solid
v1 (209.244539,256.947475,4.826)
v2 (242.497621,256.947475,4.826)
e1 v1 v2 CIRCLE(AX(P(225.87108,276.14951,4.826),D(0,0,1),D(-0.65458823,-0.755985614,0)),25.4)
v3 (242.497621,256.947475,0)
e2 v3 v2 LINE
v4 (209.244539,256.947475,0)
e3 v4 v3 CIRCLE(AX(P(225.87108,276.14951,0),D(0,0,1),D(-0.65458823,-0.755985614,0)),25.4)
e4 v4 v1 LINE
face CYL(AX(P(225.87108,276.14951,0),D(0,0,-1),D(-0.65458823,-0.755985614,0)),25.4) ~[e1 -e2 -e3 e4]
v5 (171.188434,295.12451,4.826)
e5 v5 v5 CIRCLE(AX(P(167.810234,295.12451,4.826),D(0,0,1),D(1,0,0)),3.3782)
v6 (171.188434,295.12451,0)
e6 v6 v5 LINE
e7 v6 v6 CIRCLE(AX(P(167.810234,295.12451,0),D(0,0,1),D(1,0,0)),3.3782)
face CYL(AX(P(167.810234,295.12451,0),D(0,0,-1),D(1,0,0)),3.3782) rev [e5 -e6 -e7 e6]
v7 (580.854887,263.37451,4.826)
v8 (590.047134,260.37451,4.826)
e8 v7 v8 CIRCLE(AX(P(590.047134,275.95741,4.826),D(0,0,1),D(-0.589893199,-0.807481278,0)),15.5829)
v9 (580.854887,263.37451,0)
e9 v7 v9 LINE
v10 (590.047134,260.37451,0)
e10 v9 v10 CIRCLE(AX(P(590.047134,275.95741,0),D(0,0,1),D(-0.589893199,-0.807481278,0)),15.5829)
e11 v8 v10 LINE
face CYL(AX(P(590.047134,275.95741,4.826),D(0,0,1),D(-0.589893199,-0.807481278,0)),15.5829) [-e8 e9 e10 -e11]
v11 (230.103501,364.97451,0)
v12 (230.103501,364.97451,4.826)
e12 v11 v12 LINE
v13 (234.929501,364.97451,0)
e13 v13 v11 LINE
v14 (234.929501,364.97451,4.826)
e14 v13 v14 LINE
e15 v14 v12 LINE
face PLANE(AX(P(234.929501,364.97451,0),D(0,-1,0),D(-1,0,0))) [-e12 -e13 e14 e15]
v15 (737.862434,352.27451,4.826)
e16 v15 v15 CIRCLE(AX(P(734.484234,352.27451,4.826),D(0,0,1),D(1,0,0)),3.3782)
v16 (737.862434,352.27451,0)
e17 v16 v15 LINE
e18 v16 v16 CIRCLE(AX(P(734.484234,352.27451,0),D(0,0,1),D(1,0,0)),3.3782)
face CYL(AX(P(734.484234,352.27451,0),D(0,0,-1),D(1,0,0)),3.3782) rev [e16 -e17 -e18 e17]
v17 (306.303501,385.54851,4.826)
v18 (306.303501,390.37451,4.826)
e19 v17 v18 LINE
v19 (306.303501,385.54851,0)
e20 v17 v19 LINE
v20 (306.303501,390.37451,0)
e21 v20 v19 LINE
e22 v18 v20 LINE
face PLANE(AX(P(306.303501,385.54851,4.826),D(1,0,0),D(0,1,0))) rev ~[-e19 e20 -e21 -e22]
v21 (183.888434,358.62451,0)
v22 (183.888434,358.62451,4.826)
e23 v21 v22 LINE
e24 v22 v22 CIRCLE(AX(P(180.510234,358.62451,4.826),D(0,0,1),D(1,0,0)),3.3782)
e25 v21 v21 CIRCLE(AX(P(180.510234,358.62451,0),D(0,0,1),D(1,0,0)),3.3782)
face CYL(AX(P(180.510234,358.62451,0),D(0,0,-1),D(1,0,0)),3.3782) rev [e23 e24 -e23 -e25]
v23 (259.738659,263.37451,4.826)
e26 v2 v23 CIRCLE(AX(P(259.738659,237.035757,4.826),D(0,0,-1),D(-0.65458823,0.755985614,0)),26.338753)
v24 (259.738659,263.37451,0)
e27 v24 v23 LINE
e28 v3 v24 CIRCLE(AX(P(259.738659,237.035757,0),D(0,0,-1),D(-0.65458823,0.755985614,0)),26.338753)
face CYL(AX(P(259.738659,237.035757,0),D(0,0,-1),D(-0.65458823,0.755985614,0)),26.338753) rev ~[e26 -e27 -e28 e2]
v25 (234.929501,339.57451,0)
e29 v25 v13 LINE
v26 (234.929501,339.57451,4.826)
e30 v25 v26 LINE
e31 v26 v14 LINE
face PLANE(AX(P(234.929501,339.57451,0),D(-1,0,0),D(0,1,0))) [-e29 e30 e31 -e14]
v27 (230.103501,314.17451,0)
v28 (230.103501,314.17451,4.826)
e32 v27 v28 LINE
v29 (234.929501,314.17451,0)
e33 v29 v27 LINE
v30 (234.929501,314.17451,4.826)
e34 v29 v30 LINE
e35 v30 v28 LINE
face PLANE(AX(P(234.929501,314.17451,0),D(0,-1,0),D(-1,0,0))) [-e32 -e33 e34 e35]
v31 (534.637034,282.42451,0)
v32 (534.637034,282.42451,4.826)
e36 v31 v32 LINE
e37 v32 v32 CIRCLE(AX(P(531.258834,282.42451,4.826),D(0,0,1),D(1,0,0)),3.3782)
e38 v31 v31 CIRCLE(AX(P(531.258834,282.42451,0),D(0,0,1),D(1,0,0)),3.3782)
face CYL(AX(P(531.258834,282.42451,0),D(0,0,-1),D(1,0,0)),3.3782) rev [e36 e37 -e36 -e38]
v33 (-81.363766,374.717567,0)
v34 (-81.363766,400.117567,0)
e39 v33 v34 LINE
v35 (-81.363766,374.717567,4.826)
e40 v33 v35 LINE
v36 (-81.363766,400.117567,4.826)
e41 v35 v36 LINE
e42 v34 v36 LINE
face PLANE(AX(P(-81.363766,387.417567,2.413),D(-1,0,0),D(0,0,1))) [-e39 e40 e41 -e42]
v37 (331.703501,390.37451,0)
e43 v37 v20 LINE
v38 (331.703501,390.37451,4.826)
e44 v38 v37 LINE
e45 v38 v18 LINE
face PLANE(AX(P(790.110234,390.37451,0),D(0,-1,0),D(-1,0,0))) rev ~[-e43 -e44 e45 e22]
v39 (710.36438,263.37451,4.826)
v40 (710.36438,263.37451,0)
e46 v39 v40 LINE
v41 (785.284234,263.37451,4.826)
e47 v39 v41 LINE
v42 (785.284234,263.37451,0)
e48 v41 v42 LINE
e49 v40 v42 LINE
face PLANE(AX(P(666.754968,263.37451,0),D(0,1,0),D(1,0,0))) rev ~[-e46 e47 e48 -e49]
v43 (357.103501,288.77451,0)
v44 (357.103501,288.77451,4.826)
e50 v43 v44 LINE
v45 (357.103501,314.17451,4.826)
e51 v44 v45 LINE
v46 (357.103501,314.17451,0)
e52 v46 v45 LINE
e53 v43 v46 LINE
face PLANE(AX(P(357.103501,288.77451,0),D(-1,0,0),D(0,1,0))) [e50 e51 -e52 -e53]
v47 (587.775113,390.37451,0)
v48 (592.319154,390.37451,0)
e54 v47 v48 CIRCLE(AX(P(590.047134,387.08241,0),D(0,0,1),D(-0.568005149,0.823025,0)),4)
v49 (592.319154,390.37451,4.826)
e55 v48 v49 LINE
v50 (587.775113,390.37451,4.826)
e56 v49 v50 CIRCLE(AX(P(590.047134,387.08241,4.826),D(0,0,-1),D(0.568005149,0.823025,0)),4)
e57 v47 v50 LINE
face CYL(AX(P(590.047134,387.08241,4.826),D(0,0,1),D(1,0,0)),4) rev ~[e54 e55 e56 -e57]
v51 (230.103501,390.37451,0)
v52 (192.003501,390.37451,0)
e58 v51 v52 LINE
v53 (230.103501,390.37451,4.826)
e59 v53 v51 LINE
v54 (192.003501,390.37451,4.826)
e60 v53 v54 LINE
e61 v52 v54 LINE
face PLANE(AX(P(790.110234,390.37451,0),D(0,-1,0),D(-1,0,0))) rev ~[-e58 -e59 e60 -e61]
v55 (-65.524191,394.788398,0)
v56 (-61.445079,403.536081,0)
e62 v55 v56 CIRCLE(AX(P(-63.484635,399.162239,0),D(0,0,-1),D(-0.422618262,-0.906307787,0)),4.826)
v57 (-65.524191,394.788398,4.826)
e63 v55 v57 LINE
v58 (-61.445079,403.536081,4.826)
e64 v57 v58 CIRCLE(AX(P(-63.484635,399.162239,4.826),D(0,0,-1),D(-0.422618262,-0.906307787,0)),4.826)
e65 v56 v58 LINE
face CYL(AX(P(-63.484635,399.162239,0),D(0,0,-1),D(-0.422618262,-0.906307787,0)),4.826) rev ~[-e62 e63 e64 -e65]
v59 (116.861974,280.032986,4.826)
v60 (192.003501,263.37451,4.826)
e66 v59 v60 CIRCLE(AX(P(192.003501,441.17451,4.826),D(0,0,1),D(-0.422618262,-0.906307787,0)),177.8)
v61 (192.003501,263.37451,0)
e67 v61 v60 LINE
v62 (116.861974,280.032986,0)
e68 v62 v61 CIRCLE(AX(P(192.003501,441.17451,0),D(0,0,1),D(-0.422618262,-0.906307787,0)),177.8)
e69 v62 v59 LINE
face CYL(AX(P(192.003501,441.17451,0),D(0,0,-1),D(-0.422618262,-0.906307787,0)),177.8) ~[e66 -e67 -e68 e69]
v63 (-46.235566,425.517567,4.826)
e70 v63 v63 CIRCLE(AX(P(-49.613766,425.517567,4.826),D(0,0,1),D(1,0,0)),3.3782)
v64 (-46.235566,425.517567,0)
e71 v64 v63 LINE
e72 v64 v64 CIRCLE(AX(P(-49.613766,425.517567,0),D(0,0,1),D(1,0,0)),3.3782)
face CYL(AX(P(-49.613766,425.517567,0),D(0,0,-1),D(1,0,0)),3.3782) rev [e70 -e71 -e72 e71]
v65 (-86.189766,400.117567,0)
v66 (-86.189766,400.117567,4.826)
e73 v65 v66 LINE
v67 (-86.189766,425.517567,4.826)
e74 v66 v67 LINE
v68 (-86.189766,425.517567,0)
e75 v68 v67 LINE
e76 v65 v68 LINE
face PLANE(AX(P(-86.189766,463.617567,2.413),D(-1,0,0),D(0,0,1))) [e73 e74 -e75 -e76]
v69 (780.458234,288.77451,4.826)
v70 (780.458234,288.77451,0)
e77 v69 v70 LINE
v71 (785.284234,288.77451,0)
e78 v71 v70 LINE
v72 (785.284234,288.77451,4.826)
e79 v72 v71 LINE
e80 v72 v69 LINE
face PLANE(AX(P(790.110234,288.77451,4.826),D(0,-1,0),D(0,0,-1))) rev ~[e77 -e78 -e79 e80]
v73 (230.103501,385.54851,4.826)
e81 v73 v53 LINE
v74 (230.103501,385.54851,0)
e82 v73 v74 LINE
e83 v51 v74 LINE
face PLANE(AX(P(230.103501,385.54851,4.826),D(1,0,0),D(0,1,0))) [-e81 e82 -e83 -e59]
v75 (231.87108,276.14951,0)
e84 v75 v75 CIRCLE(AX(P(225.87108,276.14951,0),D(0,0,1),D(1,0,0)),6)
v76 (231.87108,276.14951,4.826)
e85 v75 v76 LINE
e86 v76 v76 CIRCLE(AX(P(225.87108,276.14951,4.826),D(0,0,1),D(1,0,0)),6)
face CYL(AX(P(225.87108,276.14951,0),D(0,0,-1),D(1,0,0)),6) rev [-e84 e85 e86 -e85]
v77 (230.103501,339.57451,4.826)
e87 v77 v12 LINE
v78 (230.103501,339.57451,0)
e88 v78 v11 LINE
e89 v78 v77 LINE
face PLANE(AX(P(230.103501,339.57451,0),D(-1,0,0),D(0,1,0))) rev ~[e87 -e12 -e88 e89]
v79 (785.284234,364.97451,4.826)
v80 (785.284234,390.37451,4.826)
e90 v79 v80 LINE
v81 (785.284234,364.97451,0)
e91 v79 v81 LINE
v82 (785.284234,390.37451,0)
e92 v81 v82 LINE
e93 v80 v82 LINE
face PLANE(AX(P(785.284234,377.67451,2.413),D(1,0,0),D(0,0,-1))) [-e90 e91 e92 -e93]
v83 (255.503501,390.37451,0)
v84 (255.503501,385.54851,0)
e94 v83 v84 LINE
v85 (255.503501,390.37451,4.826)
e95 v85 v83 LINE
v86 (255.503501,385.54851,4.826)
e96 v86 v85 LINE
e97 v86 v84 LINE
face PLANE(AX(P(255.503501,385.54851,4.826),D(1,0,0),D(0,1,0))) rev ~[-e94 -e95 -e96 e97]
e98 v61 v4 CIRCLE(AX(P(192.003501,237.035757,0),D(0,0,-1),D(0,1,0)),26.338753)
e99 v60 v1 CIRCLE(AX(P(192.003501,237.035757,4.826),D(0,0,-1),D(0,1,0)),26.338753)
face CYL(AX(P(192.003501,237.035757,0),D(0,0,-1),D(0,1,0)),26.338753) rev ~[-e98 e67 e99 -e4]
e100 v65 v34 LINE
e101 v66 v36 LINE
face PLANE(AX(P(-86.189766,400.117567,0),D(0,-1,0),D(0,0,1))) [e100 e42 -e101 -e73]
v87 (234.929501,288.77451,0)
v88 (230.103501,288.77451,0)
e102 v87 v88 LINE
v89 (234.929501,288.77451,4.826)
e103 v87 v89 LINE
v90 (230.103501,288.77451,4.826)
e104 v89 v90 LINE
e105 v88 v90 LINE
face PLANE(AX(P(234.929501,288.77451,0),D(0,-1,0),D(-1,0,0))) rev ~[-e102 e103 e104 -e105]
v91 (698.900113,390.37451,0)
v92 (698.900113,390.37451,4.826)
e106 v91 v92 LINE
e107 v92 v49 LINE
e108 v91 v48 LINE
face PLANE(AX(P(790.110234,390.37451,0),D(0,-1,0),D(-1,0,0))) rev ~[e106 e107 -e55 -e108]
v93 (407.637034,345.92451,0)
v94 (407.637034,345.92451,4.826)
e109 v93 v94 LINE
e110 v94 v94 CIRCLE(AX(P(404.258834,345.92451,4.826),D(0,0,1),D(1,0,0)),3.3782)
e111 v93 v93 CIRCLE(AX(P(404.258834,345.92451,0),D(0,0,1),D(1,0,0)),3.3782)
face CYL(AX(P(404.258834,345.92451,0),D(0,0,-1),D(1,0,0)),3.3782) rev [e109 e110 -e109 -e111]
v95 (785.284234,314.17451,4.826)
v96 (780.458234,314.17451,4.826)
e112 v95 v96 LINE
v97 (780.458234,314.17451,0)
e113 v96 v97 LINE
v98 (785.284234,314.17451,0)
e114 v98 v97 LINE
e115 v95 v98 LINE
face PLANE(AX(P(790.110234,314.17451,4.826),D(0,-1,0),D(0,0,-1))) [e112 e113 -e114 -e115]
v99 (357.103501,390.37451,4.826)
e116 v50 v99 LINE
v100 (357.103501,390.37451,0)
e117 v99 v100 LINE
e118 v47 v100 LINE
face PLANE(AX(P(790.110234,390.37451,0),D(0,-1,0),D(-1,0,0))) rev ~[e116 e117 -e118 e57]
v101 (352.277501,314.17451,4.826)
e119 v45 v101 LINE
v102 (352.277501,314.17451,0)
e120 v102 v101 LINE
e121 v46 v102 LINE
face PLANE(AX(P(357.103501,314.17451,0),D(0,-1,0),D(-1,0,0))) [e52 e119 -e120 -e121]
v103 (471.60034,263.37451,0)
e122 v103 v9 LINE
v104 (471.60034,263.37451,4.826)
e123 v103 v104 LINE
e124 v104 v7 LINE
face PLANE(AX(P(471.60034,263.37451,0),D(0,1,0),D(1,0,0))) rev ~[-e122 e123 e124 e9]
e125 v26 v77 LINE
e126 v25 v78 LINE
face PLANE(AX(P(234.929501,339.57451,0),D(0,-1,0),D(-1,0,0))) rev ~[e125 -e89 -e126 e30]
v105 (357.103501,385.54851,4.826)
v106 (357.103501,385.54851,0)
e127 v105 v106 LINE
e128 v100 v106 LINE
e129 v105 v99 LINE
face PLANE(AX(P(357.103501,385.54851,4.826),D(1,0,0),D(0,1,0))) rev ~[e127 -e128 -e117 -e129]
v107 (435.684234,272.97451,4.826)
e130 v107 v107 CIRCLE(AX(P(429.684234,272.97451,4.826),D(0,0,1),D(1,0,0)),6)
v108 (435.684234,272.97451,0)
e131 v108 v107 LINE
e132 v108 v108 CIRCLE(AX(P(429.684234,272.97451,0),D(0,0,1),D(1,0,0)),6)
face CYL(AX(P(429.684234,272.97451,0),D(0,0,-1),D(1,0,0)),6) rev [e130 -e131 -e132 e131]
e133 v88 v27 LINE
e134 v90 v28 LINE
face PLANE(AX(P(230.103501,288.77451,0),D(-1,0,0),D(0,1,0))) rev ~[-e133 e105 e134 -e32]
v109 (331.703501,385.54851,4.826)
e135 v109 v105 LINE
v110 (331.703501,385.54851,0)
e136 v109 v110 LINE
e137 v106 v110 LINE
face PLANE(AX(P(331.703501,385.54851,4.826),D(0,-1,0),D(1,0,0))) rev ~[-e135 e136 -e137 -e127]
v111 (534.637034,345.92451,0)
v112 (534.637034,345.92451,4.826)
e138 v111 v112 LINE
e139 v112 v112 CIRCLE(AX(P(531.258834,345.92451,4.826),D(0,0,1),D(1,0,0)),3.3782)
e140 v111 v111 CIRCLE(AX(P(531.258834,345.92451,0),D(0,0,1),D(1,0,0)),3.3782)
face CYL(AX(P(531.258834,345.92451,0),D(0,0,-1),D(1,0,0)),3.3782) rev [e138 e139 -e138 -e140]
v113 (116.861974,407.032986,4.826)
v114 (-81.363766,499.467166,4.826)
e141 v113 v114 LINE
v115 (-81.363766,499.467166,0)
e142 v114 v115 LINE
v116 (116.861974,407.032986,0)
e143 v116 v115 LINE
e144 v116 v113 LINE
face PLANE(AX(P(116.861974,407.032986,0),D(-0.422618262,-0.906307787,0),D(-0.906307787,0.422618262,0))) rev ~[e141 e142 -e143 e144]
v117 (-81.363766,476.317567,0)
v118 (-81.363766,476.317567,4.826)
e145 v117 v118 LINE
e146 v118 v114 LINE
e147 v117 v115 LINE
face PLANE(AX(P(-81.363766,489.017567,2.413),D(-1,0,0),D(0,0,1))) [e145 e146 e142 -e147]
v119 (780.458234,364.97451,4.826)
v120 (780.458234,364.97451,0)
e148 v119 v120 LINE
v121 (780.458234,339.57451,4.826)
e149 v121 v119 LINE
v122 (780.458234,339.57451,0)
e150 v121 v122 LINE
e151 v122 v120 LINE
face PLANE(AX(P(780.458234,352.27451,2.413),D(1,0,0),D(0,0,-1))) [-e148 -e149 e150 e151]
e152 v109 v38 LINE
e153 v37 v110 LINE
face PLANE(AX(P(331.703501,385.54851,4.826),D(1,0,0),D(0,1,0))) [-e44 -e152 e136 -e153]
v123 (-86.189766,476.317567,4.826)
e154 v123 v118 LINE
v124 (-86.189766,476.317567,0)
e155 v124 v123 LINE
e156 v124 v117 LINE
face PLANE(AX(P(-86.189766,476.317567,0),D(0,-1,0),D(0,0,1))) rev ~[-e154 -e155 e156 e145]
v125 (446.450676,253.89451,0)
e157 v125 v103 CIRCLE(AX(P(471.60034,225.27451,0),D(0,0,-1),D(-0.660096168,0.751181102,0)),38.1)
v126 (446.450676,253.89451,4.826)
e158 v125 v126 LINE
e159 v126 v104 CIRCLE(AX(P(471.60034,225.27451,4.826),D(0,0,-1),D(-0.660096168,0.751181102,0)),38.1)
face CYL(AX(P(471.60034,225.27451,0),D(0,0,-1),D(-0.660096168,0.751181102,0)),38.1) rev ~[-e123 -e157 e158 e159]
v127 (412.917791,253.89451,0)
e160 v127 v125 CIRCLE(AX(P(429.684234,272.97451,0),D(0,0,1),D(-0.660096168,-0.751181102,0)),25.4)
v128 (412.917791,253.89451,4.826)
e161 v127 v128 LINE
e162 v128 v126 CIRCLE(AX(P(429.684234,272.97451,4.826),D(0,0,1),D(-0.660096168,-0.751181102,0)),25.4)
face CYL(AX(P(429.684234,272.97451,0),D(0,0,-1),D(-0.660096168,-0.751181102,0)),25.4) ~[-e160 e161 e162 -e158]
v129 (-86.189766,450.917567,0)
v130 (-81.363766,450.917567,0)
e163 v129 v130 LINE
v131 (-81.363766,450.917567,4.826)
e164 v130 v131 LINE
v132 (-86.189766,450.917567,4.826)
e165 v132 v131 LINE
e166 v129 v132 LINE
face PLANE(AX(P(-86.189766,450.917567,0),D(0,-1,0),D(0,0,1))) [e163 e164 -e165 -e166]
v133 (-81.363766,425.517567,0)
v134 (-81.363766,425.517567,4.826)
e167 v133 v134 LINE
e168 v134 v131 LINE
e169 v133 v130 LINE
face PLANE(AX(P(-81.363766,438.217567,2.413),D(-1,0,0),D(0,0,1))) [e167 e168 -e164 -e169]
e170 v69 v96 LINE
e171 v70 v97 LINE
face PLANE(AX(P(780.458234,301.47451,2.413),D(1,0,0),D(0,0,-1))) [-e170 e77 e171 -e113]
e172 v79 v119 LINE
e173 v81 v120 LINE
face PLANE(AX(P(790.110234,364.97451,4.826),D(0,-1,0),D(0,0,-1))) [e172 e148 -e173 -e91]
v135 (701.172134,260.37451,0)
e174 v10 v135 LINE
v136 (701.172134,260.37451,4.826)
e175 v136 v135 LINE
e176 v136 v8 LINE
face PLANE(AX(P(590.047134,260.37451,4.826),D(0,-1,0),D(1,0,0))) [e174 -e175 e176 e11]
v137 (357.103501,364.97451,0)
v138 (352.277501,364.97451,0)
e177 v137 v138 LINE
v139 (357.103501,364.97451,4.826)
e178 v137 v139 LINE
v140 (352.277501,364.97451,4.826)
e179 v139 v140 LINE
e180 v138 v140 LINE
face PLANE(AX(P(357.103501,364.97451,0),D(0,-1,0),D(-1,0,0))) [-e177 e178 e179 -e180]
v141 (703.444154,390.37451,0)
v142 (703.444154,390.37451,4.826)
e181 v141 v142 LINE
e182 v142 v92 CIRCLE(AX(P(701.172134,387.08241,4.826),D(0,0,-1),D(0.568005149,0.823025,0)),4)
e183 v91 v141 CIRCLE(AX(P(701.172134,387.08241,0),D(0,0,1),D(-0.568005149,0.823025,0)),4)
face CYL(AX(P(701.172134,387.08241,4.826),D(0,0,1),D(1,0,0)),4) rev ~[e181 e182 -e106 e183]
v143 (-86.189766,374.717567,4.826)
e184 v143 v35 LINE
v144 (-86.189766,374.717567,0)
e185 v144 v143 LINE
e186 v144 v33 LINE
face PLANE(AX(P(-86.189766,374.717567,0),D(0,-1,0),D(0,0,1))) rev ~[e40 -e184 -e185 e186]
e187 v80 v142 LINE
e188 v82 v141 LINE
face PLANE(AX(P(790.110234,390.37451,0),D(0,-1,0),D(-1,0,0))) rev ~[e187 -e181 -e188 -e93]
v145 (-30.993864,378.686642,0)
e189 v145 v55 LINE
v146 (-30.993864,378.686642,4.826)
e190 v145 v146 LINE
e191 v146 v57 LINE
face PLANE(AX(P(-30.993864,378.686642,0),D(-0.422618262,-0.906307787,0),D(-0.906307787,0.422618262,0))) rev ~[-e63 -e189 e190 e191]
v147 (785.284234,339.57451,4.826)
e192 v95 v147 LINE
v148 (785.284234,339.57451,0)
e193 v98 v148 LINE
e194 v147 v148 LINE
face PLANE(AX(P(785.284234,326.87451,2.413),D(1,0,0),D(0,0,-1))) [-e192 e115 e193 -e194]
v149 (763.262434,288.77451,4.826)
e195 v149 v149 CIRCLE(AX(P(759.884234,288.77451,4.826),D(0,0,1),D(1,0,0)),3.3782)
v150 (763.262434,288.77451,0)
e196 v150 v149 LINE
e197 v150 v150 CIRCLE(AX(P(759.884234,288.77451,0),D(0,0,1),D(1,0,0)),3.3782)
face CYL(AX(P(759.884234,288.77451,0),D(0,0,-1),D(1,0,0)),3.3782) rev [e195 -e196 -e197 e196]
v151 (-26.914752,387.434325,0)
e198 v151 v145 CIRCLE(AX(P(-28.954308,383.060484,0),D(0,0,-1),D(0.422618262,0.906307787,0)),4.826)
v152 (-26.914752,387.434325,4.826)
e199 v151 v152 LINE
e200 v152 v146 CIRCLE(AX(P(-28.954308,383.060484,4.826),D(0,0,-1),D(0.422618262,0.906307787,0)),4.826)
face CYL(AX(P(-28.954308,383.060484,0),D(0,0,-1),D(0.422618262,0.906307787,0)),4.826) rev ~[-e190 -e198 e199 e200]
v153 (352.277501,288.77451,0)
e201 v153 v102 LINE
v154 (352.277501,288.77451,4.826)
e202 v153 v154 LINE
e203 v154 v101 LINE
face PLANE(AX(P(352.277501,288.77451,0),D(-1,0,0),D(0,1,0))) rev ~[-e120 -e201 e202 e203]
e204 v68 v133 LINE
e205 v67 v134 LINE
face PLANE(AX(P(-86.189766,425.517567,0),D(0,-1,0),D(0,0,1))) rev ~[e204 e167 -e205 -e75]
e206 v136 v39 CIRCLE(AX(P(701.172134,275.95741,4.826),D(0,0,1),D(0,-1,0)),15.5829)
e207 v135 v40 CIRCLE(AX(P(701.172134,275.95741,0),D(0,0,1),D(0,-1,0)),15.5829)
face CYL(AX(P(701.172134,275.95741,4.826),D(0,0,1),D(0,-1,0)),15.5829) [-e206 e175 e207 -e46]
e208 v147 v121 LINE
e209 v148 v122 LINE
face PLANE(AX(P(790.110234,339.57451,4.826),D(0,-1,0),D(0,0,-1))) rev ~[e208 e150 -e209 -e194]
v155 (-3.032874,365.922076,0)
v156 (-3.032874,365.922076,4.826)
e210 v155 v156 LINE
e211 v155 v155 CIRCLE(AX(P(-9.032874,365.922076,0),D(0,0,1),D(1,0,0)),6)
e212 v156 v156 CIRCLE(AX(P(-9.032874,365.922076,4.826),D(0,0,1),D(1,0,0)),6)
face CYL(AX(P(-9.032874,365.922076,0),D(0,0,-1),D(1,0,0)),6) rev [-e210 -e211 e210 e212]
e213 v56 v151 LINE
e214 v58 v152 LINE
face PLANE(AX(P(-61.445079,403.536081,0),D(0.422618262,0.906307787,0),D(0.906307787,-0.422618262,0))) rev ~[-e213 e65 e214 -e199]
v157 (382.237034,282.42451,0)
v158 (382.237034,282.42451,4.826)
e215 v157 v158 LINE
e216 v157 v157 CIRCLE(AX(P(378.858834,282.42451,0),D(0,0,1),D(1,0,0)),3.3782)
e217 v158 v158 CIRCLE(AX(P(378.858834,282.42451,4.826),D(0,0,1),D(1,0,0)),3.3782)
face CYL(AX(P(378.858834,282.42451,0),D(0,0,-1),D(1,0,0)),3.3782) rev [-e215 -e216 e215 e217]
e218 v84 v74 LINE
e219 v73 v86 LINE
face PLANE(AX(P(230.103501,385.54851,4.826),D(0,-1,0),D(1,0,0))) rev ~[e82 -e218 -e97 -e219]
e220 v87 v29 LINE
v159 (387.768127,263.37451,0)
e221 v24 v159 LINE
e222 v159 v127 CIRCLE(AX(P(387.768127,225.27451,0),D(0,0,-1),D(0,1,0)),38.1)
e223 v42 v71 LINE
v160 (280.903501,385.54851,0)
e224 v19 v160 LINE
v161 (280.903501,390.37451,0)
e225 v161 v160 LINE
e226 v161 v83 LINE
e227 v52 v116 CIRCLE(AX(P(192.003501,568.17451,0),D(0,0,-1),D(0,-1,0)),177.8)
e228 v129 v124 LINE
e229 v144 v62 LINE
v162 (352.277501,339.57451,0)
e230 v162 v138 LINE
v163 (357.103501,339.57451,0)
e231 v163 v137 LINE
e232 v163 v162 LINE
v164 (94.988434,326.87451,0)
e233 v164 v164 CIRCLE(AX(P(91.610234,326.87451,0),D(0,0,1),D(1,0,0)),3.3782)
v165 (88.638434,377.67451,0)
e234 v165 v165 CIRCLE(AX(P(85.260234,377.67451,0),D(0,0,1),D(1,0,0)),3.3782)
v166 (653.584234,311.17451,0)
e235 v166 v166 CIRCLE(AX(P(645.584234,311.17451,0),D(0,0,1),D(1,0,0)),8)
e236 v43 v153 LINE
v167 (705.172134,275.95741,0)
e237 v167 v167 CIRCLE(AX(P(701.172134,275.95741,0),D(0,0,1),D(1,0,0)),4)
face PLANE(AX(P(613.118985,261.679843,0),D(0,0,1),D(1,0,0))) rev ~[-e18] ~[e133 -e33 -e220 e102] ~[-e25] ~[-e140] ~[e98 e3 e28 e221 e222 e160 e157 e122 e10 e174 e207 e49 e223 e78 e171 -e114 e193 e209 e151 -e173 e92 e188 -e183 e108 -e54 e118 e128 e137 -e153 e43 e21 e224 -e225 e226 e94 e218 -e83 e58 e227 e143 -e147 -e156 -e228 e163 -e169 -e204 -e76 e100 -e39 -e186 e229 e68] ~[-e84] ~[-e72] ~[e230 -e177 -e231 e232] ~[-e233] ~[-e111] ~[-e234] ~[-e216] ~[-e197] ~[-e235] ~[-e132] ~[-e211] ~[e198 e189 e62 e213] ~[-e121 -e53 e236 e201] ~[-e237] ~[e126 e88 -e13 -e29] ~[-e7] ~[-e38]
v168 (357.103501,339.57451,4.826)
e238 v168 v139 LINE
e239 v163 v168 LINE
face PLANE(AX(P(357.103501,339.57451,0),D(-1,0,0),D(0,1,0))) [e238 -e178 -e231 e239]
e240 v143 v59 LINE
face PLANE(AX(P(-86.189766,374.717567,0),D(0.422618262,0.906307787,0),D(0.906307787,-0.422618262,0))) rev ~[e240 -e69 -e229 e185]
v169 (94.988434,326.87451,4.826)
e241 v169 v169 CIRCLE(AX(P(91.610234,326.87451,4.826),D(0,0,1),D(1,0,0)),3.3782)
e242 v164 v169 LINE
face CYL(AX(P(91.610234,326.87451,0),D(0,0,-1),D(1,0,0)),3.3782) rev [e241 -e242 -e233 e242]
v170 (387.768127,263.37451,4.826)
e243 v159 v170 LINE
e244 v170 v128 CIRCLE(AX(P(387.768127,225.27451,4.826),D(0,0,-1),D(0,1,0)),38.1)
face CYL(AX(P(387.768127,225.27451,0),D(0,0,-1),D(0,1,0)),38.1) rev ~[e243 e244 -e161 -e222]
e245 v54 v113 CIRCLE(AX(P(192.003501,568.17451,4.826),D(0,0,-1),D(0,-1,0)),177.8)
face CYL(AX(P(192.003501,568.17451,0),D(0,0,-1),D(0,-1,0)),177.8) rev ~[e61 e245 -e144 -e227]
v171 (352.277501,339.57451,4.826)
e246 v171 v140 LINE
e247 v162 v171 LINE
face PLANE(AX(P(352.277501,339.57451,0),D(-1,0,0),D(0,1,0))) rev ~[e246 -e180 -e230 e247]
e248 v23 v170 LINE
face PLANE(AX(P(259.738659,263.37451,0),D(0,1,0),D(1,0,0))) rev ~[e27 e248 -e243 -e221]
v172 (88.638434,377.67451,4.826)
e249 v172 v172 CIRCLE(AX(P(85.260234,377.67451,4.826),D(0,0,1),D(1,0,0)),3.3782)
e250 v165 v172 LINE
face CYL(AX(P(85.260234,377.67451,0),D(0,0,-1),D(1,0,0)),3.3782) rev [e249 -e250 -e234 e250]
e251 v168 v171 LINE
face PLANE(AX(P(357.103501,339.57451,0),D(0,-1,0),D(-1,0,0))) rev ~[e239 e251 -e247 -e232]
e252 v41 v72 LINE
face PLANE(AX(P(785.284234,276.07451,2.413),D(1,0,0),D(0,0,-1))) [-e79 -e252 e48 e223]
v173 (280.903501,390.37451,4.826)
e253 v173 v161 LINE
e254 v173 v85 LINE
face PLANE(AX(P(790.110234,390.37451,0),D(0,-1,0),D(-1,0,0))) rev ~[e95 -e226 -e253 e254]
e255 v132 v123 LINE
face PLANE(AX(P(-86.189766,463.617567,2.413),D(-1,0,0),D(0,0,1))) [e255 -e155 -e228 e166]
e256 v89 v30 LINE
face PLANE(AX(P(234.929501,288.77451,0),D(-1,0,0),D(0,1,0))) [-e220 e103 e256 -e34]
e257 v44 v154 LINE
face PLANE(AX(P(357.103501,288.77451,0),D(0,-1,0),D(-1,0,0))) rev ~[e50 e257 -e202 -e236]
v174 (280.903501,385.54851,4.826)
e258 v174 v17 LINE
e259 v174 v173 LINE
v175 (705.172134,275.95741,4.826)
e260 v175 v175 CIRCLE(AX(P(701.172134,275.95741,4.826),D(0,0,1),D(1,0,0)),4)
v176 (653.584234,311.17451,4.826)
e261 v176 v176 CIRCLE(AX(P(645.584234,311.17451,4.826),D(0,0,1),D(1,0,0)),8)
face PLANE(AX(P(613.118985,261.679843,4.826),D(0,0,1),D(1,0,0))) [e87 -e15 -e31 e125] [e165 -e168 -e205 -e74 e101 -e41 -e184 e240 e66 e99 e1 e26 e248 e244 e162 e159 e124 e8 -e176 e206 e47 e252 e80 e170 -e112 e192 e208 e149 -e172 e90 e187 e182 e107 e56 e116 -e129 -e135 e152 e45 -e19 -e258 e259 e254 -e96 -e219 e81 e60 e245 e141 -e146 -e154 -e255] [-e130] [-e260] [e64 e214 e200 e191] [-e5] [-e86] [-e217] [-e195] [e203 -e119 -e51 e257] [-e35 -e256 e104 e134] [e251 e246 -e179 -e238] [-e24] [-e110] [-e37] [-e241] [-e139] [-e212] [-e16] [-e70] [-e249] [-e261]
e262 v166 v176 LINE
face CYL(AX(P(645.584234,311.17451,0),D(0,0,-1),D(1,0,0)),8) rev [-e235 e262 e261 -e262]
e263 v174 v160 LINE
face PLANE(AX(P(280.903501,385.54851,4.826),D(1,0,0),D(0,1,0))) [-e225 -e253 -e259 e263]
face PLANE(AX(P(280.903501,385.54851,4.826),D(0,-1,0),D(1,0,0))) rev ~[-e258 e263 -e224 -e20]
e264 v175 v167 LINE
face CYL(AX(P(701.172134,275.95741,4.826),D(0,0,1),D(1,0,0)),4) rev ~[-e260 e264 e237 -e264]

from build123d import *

# Parameters (mm, degrees)
SKETCH1_R           = 3.3782
SKETCH1_R_2         = 6
SKETCH1_R_3         = 8
BOSS_EXTRUDE1_DEPTH = 4.826
SKETCH2_W           = 4.826
SKETCH2_H           = 25.4
BOSS_EXTRUDE2_DEPTH = 4.826
SKETCH3_W           = 4.826
SKETCH3_H           = 25.4
CUT_EXTRUDE1_DEPTH  = 4.826
SKETCH4_W           = 4.826
SKETCH4_H           = 25.4
BOSS_EXTRUDE3_DEPTH = 4.826
SKETCH5_W           = 4.826
SKETCH5_H           = 25.4
CUT_EXTRUDE2_DEPTH  = 4.826
SKETCH6_W           = 4.826
SKETCH6_H           = 25.4
CUT_EXTRUDE3_DEPTH  = 9.652
SKETCH7_W           = 25.4
SKETCH7_H           = 4.826
CUT_EXTRUDE4_DEPTH  = 5.826
SKETCH9_W           = 4.826
SKETCH9_H           = 25.4
CUT_EXTRUDE5_DEPTH  = 5.826
BOSS_EXTRUDE4_DEPTH = 4.826
SKETCH11_R          = 4
CUT_EXTRUDE6_DEPTH  = 5.826


with BuildPart() as part:
    # Sketch1 → Boss-Extrude1 (new body)
    with BuildSketch(Plane.XY):
        with BuildLine():
            ThreePointArc((192.003501193, 390.374510077), (153.520537835, 394.589080012), (116.861974256, 407.032985542))
            Line((116.861974256, 407.032985542), (-86.189766395, 501.71756721))
            Line((-86.189766395, 501.71756721), (-86.189766395, 476.31756721))
            Line((-86.189766395, 476.31756721), (-81.363766395, 476.31756721))
            Line((-81.363766395, 476.31756721), (-81.363766395, 450.91756721))
            Line((-81.363766395, 450.91756721), (-86.189766395, 450.91756721))
            Line((-86.189766395, 450.91756721), (-86.189766395, 425.51756721))
            Line((-86.189766395, 425.51756721), (-81.363766395, 425.51756721))
            Line((-81.363766395, 425.51756721), (-81.363766395, 400.11756721))
            Line((-81.363766395, 400.11756721), (-86.189766395, 400.11756721))
            Line((-86.189766395, 400.11756721), (-86.189766395, 374.71756721))
            Line((-86.189766395, 374.71756721), (116.861974256, 280.032985542))
            ThreePointArc((116.861974256, 280.032985542), (153.520537835, 267.589080012), (192.003501193, 263.374510077))
            ThreePointArc((192.003501193, 263.374510077), (201.203503254, 261.71550325), (209.244538804, 256.947475478))
            ThreePointArc((209.244538804, 256.947475478), (225.871079853, 250.749510077), (242.497620902, 256.947475478))
            ThreePointArc((242.497620902, 256.947475478), (250.538656453, 261.71550325), (259.738658513, 263.374510077))
            Line((259.738658513, 263.374510077), (387.768126915, 263.374510077))
            ThreePointArc((387.768126915, 263.374510077), (401.20665362, 260.925821414), (412.917790929, 253.894510077))
            ThreePointArc((412.917790929, 253.894510077), (429.684233605, 247.574510077), (446.45067628, 253.894510077))
            ThreePointArc((446.45067628, 253.894510077), (458.161813589, 260.925821414), (471.600340294, 263.374510077))
            Line((471.600340294, 263.374510077), (624.413499087, 263.374510077))
            ThreePointArc((624.413499087, 263.374510077), (627.977205024, 263.123267502), (631.470410593, 262.374510077))
            ThreePointArc((631.470410593, 262.374510077), (645.584233605, 260.374510077), (659.698056616, 262.374510077))
            ThreePointArc((659.698056616, 262.374510077), (663.191262186, 263.123267502), (666.754968122, 263.374510077))
            Line((666.754968122, 263.374510077), (790.110233605, 263.374510077))
            Line((790.110233605, 263.374510077), (790.110233605, 288.774510077))
            Line((790.110233605, 288.774510077), (785.284233605, 288.774510077))
            Line((785.284233605, 288.774510077), (785.284233605, 314.174510077))
            Line((785.284233605, 314.174510077), (790.110233605, 314.174510077))
            Line((790.110233605, 314.174510077), (790.110233605, 339.574510077))
            Line((790.110233605, 339.574510077), (785.284233605, 339.574510077))
            Line((785.284233605, 339.574510077), (785.284233605, 364.974510077))
            Line((785.284233605, 364.974510077), (790.110233605, 364.974510077))
            Line((790.110233605, 364.974510077), (790.110233605, 390.374510077))
            Line((790.110233605, 390.374510077), (192.003501193, 390.374510077))
        make_face()
        with BuildLine():
            ThreePointArc((-26.914752452, 387.434325035), (-24.580466803, 381.020927923), (-30.993863915, 378.686642274))
            Line((-30.993863915, 378.686642274), (-65.524190601, 394.788398047))
            ThreePointArc((-65.524190601, 394.788398047), (-67.85847625, 401.201795158), (-61.445079138, 403.536080807))
            Line((-61.445079138, 403.536080807), (-26.914752452, 387.434325035))
        make_face(mode=Mode.SUBTRACT)
        with Locations((85.260233605, 377.674510077)):
            Circle(SKETCH1_R, mode=Mode.SUBTRACT)
        with Locations((-49.613766395, 425.51756721)):
            Circle(SKETCH1_R, mode=Mode.SUBTRACT)
        with Locations((225.871079853, 276.149510077)):
            Circle(SKETCH1_R_2, mode=Mode.SUBTRACT)
        with Locations((167.810233605, 295.124510077)):
            Circle(SKETCH1_R, mode=Mode.SUBTRACT)
        with Locations((91.610233605, 326.874510077)):
            Circle(SKETCH1_R, mode=Mode.SUBTRACT)
        with Locations((-9.032874317, 365.922075979)):
            Circle(SKETCH1_R_2, mode=Mode.SUBTRACT)
        with Locations((180.510233605, 358.624510077)):
            Circle(SKETCH1_R, mode=Mode.SUBTRACT)
        with Locations((429.684233605, 272.974510077)):
            Circle(SKETCH1_R_2, mode=Mode.SUBTRACT)
        with Locations((378.858833605, 282.424510077)):
            Circle(SKETCH1_R, mode=Mode.SUBTRACT)
        with Locations((531.258833605, 282.424510077)):
            Circle(SKETCH1_R, mode=Mode.SUBTRACT)
        with Locations((759.884233605, 288.774510077)):
            Circle(SKETCH1_R, mode=Mode.SUBTRACT)
        with Locations((404.258833605, 345.924510077)):
            Circle(SKETCH1_R, mode=Mode.SUBTRACT)
        with Locations((531.258833605, 345.924510077)):
            Circle(SKETCH1_R, mode=Mode.SUBTRACT)
        with Locations((645.584233605, 311.174510077)):
            Circle(SKETCH1_R_3, mode=Mode.SUBTRACT)
        with Locations((734.484233605, 352.274510077)):
            Circle(SKETCH1_R, mode=Mode.SUBTRACT)
    extrude(amount=BOSS_EXTRUDE1_DEPTH)

    # Sketch2 → Boss-Extrude2 (add)
    with BuildSketch(Plane(origin=(785.284233605, 0, 0), x_dir=(0, 0, -1), z_dir=(1, 0, 0))):
        with Locations((-2.413, 352.274510077)):
            Rectangle(SKETCH2_W, SKETCH2_H)
        with Locations((-2.413, 301.474510077)):
            Rectangle(SKETCH2_W, SKETCH2_H)
    extrude(amount=BOSS_EXTRUDE2_DEPTH)

    # Sketch3 → Cut-Extrude1 (cut)
    with BuildSketch(Plane(origin=(790.110233605, 0, 0), x_dir=(0, 0, -1), z_dir=(1, 0, 0))):
        with Locations((-2.413, 377.674510077)):
            Rectangle(SKETCH3_W, SKETCH3_H)
        with Locations((-2.413, 326.874510077)):
            Rectangle(SKETCH3_W, SKETCH3_H)
        with Locations((-2.413, 276.074510077)):
            Rectangle(SKETCH3_W, SKETCH3_H)
    extrude(amount=-CUT_EXTRUDE1_DEPTH, mode=Mode.SUBTRACT)

    # Sketch4 → Boss-Extrude3 (add)
    with BuildSketch(Plane.ZY.offset(81.363766395)):
        with Locations((2.413, 463.61756721)):
            Rectangle(SKETCH4_W, SKETCH4_H)
        with Locations((2.413, 412.81756721)):
            Rectangle(SKETCH4_W, SKETCH4_H)
    extrude(amount=BOSS_EXTRUDE3_DEPTH)

    # Sketch5 → Cut-Extrude2 (cut)
    with BuildSketch(Plane.ZY.offset(86.189766395)):
        with Locations((2.413, 387.41756721)):
            Rectangle(SKETCH5_W, SKETCH5_H)
        with Locations((2.413, 438.21756721)):
            Rectangle(SKETCH5_W, SKETCH5_H)
        with Locations((2.413, 489.01756721)):
            Rectangle(SKETCH5_W, SKETCH5_H)
    extrude(amount=-CUT_EXTRUDE2_DEPTH, mode=Mode.SUBTRACT)

    # Sketch6 → Cut-Extrude3 (cut)
    with BuildSketch(Plane(origin=(790.110233605, 0, 0), x_dir=(0, 0, -1), z_dir=(1, 0, 0))):
        with Locations((-2.413, 352.274510077)):
            Rectangle(SKETCH6_W, SKETCH6_H)
        with Locations((-2.413, 301.474510077)):
            Rectangle(SKETCH6_W, SKETCH6_H)
    extrude(amount=-CUT_EXTRUDE3_DEPTH, mode=Mode.SUBTRACT)

    # Sketch7 → Cut-Extrude4 (cut, through all)
    with BuildSketch(Plane.XY.offset(4.826)):
        with Locations((293.603501193, 387.961510077)):
            Rectangle(SKETCH7_W, SKETCH7_H)
        with Locations((344.403501193, 387.961510077)):
            Rectangle(SKETCH7_W, SKETCH7_H)
        with Locations((242.803501193, 387.961510077)):
            Rectangle(SKETCH7_W, SKETCH7_H)
    extrude(amount=-CUT_EXTRUDE4_DEPTH, mode=Mode.SUBTRACT)

    # Sketch9 → Cut-Extrude5 (cut, through all)
    with BuildSketch(Plane(origin=(0, 0, 0), x_dir=(-1, 0, 0), z_dir=(0, 0, -1))):
        with Locations((-354.690501193, 352.274510077)):
            Rectangle(SKETCH9_W, SKETCH9_H)
        with Locations((-354.690501193, 301.474510077)):
            Rectangle(SKETCH9_W, SKETCH9_H)
        with Locations((-232.516501193, 301.474510077)):
            Rectangle(SKETCH9_W, SKETCH9_H)
        with Locations((-232.516501193, 352.274510077)):
            Rectangle(SKETCH9_W, SKETCH9_H)
    extrude(amount=-CUT_EXTRUDE5_DEPTH, mode=Mode.SUBTRACT)

    # Sketch10 → Boss-Extrude4 (add)
    with BuildSketch(Plane.XY.offset(4.826)):
        with BuildLine():
            ThreePointArc((580.854886872, 263.374510077), (585.212430925, 261.14348344), (590.047133605, 260.374510077))
            Line((590.047133605, 260.374510077), (645.584233605, 260.374510077))
            ThreePointArc((645.584233605, 260.374510077), (638.456821732, 260.876995228), (631.470410593, 262.374510077))
            ThreePointArc((631.470410593, 262.374510077), (627.977205024, 263.123267502), (624.413499087, 263.374510077))
            Line((624.413499087, 263.374510077), (580.854886872, 263.374510077))
        make_face()
        with BuildLine():
            ThreePointArc((659.698056616, 262.374510077), (652.711645477, 260.876995228), (645.584233605, 260.374510077))
            Line((645.584233605, 260.374510077), (701.172133605, 260.374510077))
            ThreePointArc((701.172133605, 260.374510077), (706.006836284, 261.14348344), (710.364380338, 263.374510077))
            Line((710.364380338, 263.374510077), (666.754968122, 263.374510077))
            ThreePointArc((666.754968122, 263.374510077), (663.191262186, 263.123267502), (659.698056616, 262.374510077))
        make_face()
    extrude(amount=-BOSS_EXTRUDE4_DEPTH)

    # Sketch11 → Cut-Extrude6 (cut, through all)
    with BuildSketch(Plane.XY.offset(4.826)):
        with Locations((590.047133605, 387.082410077)):
            Circle(SKETCH11_R)
        with Locations((701.172133605, 387.082410077)):
            Circle(SKETCH11_R)
        with Locations((701.172133605, 275.957410077)):
            Circle(SKETCH11_R)
        with Locations((590.047133605, 240.977875999)):
            Circle(SKETCH11_R)
    extrude(amount=-CUT_EXTRUDE6_DEPTH, mode=Mode.SUBTRACT)


solid = part.part
